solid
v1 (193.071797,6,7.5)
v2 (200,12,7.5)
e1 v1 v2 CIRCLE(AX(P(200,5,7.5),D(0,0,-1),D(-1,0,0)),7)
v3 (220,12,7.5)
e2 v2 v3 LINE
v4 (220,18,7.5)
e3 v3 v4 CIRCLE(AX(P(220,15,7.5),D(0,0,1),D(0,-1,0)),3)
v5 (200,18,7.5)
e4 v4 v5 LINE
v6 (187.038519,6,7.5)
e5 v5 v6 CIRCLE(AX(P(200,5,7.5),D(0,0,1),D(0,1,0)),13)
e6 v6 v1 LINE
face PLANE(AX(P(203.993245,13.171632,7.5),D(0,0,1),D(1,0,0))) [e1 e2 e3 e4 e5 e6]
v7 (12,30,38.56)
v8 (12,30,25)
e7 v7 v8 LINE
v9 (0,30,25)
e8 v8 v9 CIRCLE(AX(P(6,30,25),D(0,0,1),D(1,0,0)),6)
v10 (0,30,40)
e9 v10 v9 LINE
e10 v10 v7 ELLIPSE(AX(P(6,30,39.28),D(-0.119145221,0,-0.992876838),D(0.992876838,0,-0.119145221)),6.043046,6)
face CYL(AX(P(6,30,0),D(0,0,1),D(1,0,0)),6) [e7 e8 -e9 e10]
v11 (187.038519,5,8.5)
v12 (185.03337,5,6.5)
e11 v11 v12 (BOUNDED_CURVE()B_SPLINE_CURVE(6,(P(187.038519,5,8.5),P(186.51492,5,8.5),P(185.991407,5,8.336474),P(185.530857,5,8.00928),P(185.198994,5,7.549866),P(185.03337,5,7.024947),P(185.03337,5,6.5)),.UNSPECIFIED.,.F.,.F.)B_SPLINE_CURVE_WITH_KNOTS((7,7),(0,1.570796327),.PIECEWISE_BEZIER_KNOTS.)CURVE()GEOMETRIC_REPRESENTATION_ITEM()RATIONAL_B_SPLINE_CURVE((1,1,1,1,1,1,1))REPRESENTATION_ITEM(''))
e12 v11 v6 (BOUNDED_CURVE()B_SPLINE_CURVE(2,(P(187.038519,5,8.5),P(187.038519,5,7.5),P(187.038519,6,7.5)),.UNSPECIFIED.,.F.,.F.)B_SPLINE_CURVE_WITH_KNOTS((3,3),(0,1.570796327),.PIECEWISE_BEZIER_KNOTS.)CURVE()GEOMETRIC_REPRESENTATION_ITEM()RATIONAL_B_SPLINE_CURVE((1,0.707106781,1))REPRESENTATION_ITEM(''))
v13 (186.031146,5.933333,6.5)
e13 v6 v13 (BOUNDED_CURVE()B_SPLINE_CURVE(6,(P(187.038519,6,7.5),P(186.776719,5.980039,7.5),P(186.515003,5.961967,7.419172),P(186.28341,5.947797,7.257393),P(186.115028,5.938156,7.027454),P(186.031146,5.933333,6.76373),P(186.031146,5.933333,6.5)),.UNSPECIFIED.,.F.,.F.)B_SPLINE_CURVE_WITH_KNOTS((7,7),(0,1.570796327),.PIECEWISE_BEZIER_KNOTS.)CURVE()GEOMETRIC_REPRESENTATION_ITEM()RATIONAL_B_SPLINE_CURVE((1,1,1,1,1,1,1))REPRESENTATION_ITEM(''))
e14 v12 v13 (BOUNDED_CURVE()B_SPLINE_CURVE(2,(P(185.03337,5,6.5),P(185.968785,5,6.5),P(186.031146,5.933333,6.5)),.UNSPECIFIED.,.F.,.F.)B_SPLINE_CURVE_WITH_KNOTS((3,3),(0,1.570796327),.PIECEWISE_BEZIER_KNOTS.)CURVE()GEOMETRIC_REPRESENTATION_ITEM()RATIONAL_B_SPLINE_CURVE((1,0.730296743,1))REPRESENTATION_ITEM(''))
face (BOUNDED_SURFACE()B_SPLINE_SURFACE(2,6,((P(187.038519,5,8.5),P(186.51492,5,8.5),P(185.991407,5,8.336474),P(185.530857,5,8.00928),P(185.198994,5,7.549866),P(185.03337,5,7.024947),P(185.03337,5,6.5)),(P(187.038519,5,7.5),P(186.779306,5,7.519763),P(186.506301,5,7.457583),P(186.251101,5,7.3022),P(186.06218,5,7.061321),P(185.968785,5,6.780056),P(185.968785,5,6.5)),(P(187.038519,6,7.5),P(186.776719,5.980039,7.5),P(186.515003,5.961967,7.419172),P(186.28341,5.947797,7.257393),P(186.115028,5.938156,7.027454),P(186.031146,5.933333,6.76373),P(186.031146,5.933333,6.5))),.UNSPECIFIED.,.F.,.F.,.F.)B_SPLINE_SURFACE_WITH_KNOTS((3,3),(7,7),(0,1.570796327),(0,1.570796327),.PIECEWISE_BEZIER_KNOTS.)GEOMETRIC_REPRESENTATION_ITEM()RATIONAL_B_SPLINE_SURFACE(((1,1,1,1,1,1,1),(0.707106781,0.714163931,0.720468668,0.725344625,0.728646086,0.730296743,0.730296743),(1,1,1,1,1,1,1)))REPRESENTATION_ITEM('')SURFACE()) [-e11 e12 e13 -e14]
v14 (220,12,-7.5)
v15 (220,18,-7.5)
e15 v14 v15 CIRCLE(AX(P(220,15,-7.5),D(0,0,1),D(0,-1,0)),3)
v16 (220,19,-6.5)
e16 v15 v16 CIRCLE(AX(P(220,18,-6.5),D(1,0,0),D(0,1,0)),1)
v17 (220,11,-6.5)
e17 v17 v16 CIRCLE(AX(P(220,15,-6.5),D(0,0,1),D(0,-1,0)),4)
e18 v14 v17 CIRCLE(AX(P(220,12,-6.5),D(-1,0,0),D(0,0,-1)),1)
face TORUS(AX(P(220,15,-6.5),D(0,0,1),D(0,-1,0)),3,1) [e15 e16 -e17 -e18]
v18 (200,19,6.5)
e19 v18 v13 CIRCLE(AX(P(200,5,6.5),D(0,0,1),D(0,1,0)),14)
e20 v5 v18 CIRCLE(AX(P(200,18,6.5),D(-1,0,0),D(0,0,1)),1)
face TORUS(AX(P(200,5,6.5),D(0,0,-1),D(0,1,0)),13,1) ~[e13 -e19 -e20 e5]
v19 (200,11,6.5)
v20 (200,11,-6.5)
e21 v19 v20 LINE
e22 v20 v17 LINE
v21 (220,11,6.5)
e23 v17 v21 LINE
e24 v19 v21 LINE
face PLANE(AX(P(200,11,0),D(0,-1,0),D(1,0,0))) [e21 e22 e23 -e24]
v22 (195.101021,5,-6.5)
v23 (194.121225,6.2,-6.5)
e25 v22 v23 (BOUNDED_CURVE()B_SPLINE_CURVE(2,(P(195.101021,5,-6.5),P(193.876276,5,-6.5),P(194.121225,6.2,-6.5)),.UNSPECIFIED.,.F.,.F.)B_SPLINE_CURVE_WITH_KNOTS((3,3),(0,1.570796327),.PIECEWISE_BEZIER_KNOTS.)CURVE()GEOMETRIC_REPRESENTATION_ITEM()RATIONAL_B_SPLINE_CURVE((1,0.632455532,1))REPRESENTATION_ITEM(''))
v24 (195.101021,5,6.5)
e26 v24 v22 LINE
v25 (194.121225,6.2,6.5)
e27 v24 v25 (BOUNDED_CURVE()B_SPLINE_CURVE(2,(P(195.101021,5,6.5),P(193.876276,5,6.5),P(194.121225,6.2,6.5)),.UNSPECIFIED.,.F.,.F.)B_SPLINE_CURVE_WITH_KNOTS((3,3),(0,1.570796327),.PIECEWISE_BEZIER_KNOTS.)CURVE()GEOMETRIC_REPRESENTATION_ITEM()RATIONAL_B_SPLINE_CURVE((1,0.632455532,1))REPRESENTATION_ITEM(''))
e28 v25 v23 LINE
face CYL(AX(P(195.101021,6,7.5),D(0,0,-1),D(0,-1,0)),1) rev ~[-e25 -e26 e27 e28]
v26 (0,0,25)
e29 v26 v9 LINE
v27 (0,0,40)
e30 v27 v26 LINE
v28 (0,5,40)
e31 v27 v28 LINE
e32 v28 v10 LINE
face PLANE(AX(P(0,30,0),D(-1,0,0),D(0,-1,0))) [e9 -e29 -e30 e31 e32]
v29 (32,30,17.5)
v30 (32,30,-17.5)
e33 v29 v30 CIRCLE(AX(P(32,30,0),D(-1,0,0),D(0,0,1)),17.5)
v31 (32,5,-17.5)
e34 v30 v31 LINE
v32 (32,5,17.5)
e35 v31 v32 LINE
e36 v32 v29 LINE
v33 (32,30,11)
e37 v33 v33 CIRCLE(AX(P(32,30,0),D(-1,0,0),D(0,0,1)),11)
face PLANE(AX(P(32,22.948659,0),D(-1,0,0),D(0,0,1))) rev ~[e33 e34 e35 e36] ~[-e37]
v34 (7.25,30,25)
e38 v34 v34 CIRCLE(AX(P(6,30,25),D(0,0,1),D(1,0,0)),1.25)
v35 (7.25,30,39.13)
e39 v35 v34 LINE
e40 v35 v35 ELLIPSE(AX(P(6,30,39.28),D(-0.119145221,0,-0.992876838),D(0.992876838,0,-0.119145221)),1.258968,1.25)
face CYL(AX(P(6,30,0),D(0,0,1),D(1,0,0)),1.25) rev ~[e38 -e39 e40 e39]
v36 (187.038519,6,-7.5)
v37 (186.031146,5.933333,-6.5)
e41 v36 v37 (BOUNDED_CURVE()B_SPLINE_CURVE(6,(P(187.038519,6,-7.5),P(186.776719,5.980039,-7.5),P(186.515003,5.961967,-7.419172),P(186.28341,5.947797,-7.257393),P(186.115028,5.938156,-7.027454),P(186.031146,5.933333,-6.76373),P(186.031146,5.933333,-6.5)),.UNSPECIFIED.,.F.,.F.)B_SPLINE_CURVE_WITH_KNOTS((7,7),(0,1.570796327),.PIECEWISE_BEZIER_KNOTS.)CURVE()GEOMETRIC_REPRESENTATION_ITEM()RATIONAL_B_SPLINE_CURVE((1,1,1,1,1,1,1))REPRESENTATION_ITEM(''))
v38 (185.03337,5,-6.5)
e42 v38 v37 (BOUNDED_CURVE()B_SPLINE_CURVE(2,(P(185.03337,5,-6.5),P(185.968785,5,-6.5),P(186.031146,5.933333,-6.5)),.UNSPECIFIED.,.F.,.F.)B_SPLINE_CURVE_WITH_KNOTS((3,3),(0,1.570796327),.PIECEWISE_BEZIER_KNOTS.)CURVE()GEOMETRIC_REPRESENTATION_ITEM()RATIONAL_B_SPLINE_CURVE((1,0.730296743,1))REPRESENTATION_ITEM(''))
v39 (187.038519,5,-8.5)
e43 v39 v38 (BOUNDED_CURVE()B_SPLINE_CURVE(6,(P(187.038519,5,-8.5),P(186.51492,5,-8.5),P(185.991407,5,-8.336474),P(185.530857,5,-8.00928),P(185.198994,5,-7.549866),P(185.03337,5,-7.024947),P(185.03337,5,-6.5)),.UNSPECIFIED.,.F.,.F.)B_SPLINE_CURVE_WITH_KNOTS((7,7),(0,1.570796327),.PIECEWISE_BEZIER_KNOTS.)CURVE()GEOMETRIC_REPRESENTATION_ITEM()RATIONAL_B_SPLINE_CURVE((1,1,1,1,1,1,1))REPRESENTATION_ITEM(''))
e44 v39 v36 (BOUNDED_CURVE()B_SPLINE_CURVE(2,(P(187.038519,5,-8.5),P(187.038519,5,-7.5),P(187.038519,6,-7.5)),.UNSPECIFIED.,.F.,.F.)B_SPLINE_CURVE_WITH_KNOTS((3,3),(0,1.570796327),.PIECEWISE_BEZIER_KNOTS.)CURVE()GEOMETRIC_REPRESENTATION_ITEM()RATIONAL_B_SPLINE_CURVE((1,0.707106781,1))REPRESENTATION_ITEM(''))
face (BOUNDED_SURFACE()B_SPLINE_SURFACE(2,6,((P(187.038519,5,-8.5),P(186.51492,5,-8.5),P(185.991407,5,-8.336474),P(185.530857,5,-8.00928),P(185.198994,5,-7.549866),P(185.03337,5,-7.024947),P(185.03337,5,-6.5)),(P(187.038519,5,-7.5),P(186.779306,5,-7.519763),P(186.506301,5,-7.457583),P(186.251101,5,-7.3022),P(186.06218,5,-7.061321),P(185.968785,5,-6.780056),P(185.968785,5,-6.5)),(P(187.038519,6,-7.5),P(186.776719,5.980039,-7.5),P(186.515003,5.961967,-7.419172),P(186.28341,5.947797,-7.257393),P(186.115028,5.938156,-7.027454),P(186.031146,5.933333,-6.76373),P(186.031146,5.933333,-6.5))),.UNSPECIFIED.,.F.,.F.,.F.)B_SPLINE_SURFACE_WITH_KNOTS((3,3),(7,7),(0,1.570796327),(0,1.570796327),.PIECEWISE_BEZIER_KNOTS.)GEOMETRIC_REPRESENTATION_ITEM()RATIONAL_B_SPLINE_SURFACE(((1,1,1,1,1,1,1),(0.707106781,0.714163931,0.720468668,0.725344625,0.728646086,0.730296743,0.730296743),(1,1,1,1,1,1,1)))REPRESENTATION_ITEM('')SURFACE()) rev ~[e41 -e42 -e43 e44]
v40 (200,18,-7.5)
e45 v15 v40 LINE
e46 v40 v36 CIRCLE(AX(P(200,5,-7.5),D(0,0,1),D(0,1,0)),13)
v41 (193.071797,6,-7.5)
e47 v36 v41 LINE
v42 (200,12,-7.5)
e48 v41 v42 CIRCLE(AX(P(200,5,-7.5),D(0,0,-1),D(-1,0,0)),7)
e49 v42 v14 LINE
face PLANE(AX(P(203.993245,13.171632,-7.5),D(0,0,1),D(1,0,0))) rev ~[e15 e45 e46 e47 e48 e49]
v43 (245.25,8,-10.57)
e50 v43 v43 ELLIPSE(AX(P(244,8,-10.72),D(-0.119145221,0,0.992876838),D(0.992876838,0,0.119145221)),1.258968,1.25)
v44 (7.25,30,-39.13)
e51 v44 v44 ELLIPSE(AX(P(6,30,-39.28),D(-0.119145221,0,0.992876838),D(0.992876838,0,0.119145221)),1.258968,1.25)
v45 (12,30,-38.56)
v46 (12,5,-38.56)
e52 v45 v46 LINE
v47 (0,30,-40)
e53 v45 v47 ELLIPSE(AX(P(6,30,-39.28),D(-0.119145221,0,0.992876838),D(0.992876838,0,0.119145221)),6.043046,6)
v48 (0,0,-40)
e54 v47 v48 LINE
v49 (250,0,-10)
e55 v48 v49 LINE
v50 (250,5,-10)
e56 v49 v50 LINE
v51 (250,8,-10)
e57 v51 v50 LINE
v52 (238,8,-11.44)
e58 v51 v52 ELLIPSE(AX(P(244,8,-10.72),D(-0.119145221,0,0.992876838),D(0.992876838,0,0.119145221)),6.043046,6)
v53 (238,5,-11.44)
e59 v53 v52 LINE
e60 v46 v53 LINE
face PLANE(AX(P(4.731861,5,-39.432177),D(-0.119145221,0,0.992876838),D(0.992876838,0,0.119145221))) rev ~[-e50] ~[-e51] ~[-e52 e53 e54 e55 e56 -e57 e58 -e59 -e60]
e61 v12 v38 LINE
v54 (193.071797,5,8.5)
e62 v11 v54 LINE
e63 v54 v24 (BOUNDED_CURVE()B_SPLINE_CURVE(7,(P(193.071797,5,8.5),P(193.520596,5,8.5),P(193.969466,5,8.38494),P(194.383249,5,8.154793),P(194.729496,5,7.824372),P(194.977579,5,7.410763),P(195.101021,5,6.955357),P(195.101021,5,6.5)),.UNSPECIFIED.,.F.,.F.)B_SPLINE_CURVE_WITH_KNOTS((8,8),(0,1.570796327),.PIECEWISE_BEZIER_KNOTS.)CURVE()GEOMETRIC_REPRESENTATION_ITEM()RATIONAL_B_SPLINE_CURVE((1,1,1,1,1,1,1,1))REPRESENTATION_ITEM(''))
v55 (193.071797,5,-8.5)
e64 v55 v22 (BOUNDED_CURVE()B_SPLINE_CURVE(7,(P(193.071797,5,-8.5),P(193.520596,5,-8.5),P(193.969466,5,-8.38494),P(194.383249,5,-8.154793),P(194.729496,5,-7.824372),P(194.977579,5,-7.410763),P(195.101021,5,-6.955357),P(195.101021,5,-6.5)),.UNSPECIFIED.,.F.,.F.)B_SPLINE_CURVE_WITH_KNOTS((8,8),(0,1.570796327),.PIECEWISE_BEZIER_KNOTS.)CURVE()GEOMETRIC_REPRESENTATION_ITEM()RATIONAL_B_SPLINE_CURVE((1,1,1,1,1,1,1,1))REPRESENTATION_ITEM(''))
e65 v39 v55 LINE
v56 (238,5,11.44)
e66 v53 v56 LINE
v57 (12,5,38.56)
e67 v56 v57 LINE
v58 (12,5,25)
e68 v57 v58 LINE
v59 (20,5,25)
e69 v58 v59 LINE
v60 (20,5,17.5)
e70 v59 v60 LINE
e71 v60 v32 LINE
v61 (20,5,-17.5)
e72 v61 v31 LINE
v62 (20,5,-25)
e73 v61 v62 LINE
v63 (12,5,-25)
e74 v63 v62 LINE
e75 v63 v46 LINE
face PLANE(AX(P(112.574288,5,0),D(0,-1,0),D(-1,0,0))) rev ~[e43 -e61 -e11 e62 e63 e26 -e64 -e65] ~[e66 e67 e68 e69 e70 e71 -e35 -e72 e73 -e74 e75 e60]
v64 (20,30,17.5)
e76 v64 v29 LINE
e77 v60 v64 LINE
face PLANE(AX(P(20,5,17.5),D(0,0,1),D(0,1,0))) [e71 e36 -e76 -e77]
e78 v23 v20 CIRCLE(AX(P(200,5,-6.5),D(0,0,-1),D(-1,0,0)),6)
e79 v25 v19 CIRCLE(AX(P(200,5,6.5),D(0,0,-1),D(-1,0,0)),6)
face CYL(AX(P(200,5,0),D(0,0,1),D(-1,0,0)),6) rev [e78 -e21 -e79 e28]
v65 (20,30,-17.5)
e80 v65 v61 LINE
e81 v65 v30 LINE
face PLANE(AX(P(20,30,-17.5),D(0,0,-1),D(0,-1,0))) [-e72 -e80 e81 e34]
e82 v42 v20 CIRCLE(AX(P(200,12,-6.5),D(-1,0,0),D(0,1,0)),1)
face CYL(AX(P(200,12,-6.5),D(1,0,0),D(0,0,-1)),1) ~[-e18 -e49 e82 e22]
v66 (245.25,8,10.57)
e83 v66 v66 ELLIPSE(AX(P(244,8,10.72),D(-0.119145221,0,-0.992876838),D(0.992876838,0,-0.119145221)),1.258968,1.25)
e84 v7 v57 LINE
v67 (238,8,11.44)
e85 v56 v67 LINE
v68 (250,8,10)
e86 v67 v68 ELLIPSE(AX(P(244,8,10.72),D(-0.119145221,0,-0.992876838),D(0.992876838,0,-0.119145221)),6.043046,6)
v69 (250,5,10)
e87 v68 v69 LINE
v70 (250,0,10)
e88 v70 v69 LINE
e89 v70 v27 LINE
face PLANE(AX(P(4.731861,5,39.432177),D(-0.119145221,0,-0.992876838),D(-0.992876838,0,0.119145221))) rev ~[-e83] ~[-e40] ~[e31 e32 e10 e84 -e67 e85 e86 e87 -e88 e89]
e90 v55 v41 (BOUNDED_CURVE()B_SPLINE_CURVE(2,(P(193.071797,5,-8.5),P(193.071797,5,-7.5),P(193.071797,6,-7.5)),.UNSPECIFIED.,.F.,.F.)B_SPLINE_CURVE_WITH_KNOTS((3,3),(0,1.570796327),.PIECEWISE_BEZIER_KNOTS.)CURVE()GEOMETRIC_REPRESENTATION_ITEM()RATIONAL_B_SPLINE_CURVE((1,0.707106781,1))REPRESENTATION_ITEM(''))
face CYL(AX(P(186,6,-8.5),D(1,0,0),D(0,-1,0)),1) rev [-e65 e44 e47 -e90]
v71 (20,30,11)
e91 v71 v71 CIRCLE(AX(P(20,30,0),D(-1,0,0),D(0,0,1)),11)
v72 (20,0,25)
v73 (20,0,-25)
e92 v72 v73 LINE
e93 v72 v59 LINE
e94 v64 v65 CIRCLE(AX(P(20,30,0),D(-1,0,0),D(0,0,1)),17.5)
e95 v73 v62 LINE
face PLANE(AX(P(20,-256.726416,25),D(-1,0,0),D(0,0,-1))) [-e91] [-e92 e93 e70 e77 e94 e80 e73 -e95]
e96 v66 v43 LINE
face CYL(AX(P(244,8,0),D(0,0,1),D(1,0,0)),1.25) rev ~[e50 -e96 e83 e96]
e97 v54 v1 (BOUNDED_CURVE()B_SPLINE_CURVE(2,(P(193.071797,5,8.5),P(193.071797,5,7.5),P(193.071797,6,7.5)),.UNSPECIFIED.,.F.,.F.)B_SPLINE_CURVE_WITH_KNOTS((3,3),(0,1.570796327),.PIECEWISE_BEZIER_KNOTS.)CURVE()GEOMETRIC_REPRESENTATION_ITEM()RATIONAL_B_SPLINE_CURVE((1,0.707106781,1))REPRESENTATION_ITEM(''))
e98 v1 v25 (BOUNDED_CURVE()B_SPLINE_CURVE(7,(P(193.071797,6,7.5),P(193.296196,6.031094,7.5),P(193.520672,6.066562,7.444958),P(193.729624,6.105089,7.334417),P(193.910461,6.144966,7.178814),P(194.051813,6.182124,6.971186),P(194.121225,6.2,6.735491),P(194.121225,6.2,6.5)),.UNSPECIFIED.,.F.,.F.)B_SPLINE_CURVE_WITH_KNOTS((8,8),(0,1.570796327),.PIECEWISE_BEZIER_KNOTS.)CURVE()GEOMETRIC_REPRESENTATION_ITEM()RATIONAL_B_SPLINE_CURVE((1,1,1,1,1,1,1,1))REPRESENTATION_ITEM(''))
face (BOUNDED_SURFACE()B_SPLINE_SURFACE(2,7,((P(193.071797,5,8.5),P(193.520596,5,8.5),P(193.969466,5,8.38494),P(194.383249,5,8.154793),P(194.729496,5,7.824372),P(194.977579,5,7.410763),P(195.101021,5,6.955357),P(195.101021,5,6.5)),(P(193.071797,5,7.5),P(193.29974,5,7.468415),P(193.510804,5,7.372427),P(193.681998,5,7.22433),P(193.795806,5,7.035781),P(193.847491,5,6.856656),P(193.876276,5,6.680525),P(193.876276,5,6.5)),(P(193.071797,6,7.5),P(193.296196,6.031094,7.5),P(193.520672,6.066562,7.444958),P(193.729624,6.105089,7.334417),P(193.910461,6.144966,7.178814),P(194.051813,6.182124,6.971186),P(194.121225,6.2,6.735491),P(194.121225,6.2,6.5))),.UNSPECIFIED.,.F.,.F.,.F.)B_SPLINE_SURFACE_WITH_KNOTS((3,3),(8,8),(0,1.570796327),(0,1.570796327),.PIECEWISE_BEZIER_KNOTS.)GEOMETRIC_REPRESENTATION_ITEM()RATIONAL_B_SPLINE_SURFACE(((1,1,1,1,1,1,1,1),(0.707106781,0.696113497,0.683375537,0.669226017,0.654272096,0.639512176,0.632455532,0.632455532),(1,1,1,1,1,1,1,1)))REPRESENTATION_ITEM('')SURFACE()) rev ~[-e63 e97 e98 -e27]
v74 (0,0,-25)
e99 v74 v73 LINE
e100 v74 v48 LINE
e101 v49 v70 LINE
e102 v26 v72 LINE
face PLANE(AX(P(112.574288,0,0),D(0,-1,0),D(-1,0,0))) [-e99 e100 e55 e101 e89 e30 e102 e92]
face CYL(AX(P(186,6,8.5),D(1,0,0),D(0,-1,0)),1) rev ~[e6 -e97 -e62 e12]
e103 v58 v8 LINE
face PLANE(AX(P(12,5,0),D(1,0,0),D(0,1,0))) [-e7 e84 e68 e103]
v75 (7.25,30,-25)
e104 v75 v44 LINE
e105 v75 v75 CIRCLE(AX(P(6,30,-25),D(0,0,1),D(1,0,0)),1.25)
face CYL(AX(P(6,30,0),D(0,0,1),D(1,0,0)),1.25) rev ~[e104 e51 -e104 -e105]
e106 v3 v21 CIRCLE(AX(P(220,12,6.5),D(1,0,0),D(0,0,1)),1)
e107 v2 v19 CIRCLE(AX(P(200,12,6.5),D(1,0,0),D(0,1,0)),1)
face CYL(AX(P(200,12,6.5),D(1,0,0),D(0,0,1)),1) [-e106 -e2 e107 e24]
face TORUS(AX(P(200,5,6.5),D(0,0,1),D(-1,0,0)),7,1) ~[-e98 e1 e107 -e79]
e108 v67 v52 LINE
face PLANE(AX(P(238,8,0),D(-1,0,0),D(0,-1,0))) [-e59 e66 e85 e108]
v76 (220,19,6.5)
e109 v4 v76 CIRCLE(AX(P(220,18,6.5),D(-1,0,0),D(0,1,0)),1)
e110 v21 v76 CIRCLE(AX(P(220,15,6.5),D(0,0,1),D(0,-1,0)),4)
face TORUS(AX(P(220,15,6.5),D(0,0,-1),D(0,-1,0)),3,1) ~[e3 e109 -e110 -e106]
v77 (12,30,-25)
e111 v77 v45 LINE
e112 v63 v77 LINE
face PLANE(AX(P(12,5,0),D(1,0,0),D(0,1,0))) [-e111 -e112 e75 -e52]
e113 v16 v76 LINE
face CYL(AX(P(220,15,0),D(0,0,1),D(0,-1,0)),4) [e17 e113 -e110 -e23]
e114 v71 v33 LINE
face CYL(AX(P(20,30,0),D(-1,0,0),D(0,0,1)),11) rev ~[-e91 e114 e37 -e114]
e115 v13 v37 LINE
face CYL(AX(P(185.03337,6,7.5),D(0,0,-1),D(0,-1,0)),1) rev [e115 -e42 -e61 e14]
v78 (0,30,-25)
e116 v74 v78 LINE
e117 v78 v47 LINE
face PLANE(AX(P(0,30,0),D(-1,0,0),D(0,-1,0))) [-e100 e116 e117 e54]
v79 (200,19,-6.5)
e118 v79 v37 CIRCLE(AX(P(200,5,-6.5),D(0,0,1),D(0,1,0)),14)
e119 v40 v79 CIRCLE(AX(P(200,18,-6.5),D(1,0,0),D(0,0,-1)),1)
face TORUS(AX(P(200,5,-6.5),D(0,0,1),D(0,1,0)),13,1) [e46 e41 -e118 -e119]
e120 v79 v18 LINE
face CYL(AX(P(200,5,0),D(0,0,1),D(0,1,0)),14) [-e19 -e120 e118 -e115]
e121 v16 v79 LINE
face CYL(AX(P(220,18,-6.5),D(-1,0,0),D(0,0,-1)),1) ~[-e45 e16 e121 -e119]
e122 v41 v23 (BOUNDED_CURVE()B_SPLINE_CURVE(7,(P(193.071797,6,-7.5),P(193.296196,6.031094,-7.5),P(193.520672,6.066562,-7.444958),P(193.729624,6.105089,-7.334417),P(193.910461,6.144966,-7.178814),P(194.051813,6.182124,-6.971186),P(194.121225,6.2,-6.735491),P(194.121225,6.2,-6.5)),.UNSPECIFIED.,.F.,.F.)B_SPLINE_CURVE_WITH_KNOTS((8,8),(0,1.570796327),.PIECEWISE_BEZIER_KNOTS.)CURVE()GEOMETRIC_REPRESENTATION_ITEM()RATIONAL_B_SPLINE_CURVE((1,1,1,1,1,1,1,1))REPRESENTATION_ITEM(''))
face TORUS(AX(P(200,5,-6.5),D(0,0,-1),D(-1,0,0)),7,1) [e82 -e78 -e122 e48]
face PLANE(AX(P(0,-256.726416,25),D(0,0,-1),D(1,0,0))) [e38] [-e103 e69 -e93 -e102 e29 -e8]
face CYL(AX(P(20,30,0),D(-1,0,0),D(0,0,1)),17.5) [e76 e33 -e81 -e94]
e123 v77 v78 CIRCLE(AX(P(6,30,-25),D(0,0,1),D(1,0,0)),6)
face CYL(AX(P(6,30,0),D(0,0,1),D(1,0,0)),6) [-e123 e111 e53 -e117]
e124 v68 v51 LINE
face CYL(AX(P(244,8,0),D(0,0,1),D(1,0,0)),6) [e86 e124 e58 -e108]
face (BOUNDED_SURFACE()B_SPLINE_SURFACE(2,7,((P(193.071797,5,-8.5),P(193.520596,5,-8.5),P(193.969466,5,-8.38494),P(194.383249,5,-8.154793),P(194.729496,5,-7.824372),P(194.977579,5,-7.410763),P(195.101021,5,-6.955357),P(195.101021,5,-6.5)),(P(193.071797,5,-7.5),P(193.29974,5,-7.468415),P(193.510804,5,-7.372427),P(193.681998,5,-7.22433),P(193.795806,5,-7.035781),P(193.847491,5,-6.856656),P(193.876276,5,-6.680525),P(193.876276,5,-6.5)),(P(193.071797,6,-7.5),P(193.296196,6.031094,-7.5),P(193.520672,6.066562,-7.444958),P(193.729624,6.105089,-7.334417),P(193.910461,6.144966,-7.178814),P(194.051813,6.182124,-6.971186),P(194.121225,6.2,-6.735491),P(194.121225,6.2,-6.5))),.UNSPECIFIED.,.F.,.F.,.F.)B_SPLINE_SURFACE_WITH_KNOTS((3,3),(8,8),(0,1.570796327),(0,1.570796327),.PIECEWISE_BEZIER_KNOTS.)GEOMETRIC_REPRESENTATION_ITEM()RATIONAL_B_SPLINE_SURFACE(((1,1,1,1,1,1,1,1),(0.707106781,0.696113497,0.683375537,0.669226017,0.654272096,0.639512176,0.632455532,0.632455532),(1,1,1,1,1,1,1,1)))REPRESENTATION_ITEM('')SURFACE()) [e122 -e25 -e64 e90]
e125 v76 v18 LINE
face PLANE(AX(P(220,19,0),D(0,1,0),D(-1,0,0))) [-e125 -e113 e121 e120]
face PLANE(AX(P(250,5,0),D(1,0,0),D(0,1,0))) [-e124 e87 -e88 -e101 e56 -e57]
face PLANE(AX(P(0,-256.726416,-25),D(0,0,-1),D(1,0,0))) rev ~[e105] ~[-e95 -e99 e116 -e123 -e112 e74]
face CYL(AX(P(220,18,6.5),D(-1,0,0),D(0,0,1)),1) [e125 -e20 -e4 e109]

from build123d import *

# Parameters (mm, degrees)
BOSS_EXTRUDE1_DEPTH             = 5
BOSS_EXTRUDE2_REACH             = 255.229
SKETCH2_R                       = 1.25
BOSS_EXTRUDE2_DIRECTION_2_REACH = 255.229
CUT_EXTRUDE1_DEPTH              = 256.726416312
CUT_EXTRUDE1_DEPTH_BACK         = 256.726416312
SKETCH4_W                       = 20
SKETCH4_H                       = 50
SKETCH5_R                       = 11
BOSS_EXTRUDE3_DEPTH             = 12
BOSS_EXTRUDE4_DEPTH             = 7.5
FILLET1_R                       = 1


with BuildPart() as part:
    # Sketch1 → Boss-Extrude1 (new body)
    with BuildSketch(Plane(origin=(0, 0, 0), x_dir=(1, 0, 0), z_dir=(0, 1, 0))):
        Polygon((0, -40), (0, 40), (250, 10), (250, -10), align=None)
    extrude(amount=BOSS_EXTRUDE1_DEPTH)

    # Boss-Extrude2: up to this plane
    boss_extrude2_end = Plane(origin=(4.731861199, 5, 39.432176656), z_dir=(-0.11914522061843066, 0, -0.9928768384869221))
    # Sketch2 → Boss-Extrude2 (add, up to the surface)
    with BuildSketch(Plane.XY, mode=Mode.PRIVATE) as boss_extrude2_sk1:
        with BuildLine():
            Line((0, 30), (0, 5))
            Line((0, 5), (12, 5))
            Line((12, 5), (12, 30))
            ThreePointArc((12, 30), (6, 36), (0, 30))
        make_face()
        with Locations((6, 30)):
            Circle(SKETCH2_R, mode=Mode.SUBTRACT)
    boss_extrude2_tool1 = split(extrude(boss_extrude2_sk1.sketch, amount=BOSS_EXTRUDE2_REACH, mode=Mode.PRIVATE), bisect_by=boss_extrude2_end, keep=Keep.BOTH, mode=Mode.PRIVATE)
    add(boss_extrude2_tool1.solids().sort_by_distance((6, 19.745192, 0))[0])
    # Sketch2 → Boss-Extrude2 (add, up to the surface)
    with BuildSketch(Plane.XY, mode=Mode.PRIVATE) as boss_extrude2_sk2:
        with BuildLine():
            Line((238, 8), (238, 5))
            Line((238, 5), (250, 5))
            Line((250, 5), (250, 8))
            ThreePointArc((250, 8), (244, 14), (238, 8))
        make_face()
        with Locations((244, 8)):
            Circle(SKETCH2_R, mode=Mode.SUBTRACT)
    boss_extrude2_tool2 = split(extrude(boss_extrude2_sk2.sketch, amount=BOSS_EXTRUDE2_REACH, mode=Mode.PRIVATE), bisect_by=boss_extrude2_end, keep=Keep.BOTH, mode=Mode.PRIVATE)
    add(boss_extrude2_tool2.solids().sort_by_distance((244, 13.85, 0))[0])

    # Boss-Extrude2 direction 2: up to this plane
    boss_extrude2_direction_2_end = Plane(origin=(4.731861199, 5, -39.432176656), z_dir=(-0.11914522061843066, 0, 0.9928768384869221))
    # Sketch2 → Boss-Extrude2 direction 2 (add, up to the surface)
    with BuildSketch(Plane.XY, mode=Mode.PRIVATE) as boss_extrude2_direction_2_sk1:
        with BuildLine():
            Line((0, 30), (0, 5))
            Line((0, 5), (12, 5))
            Line((12, 5), (12, 30))
            ThreePointArc((12, 30), (6, 36), (0, 30))
        make_face()
        with Locations((6, 30)):
            Circle(SKETCH2_R, mode=Mode.SUBTRACT)
    boss_extrude2_direction_2_tool1 = split(extrude(boss_extrude2_direction_2_sk1.sketch, amount=-BOSS_EXTRUDE2_DIRECTION_2_REACH, mode=Mode.PRIVATE), bisect_by=boss_extrude2_direction_2_end, keep=Keep.BOTH, mode=Mode.PRIVATE)
    add(boss_extrude2_direction_2_tool1.solids().sort_by_distance((6, 19.745192, 0))[0])
    # Sketch2 → Boss-Extrude2 direction 2 (add, up to the surface)
    with BuildSketch(Plane.XY, mode=Mode.PRIVATE) as boss_extrude2_direction_2_sk2:
        with BuildLine():
            Line((238, 8), (238, 5))
            Line((238, 5), (250, 5))
            Line((250, 5), (250, 8))
            ThreePointArc((250, 8), (244, 14), (238, 8))
        make_face()
        with Locations((244, 8)):
            Circle(SKETCH2_R, mode=Mode.SUBTRACT)
    boss_extrude2_direction_2_tool2 = split(extrude(boss_extrude2_direction_2_sk2.sketch, amount=-BOSS_EXTRUDE2_DIRECTION_2_REACH, mode=Mode.PRIVATE), bisect_by=boss_extrude2_direction_2_end, keep=Keep.BOTH, mode=Mode.PRIVATE)
    add(boss_extrude2_direction_2_tool2.solids().sort_by_distance((244, 13.85, 0))[0])

    # Sketch4 → Cut-Extrude1 (cut, two sides: drawn at the far end of the back side and taken through both)
    with BuildSketch(Plane(origin=(0, 0, 0), x_dir=(1, 0, 0), z_dir=(0, 1, 0)).offset(-CUT_EXTRUDE1_DEPTH_BACK)):
        with Locations((10, 0)):
            Rectangle(SKETCH4_W, SKETCH4_H)
    extrude(amount=CUT_EXTRUDE1_DEPTH + CUT_EXTRUDE1_DEPTH_BACK, mode=Mode.SUBTRACT)

    # Sketch5 → Boss-Extrude3 (add)
    with BuildSketch(Plane.ZY.offset(-20)):
        with BuildLine():
            Line((-17.5, 30), (-17.5, 5))
            Line((-17.5, 5), (17.5, 5))
            Line((17.5, 5), (17.5, 30))
            ThreePointArc((17.5, 30), (0, 47.5), (-17.5, 30))
        make_face()
        with Locations((0, 30)):
            Circle(SKETCH5_R, mode=Mode.SUBTRACT)
    extrude(amount=-BOSS_EXTRUDE3_DEPTH)

    # Sketch6 → Boss-Extrude4 (add, symmetric)
    with BuildSketch(Plane.XY):
        with BuildLine():
            Line((200, 11), (220, 11))
            ThreePointArc((220, 11), (224, 15), (220, 19))
            Line((220, 19), (200, 19))
            ThreePointArc((200, 19), (190.100505063, 14.899494937), (186, 5))
            Line((186, 5), (194, 5))
            ThreePointArc((194, 5), (195.757359313, 9.242640687), (200, 11))
        make_face()
    extrude(amount=BOSS_EXTRUDE4_DEPTH, both=True)

    # Fillet1
    fillet1_edges = [part.edges().sort_by_distance(p)[0] for p in [
        (224, 15, -7.5),
        (210, 19, -7.5),
        (190.100505063, 14.899494937, -7.5),
        (190, 5, -7.5),
        (186, 5, 0),
        (195.757359313, 9.242640687, -7.5),
        (194, 5, 0),
        (210, 11, -7.5),
        (224, 15, 7.5),
        (210, 19, 7.5),
        (190.100505063, 14.899494937, 7.5),
        (190, 5, 7.5),
        (195.757359313, 9.242640687, 7.5),
        (210, 11, 7.5),
    ]]
    fillet(fillet1_edges, radius=FILLET1_R)


solid = part.part
